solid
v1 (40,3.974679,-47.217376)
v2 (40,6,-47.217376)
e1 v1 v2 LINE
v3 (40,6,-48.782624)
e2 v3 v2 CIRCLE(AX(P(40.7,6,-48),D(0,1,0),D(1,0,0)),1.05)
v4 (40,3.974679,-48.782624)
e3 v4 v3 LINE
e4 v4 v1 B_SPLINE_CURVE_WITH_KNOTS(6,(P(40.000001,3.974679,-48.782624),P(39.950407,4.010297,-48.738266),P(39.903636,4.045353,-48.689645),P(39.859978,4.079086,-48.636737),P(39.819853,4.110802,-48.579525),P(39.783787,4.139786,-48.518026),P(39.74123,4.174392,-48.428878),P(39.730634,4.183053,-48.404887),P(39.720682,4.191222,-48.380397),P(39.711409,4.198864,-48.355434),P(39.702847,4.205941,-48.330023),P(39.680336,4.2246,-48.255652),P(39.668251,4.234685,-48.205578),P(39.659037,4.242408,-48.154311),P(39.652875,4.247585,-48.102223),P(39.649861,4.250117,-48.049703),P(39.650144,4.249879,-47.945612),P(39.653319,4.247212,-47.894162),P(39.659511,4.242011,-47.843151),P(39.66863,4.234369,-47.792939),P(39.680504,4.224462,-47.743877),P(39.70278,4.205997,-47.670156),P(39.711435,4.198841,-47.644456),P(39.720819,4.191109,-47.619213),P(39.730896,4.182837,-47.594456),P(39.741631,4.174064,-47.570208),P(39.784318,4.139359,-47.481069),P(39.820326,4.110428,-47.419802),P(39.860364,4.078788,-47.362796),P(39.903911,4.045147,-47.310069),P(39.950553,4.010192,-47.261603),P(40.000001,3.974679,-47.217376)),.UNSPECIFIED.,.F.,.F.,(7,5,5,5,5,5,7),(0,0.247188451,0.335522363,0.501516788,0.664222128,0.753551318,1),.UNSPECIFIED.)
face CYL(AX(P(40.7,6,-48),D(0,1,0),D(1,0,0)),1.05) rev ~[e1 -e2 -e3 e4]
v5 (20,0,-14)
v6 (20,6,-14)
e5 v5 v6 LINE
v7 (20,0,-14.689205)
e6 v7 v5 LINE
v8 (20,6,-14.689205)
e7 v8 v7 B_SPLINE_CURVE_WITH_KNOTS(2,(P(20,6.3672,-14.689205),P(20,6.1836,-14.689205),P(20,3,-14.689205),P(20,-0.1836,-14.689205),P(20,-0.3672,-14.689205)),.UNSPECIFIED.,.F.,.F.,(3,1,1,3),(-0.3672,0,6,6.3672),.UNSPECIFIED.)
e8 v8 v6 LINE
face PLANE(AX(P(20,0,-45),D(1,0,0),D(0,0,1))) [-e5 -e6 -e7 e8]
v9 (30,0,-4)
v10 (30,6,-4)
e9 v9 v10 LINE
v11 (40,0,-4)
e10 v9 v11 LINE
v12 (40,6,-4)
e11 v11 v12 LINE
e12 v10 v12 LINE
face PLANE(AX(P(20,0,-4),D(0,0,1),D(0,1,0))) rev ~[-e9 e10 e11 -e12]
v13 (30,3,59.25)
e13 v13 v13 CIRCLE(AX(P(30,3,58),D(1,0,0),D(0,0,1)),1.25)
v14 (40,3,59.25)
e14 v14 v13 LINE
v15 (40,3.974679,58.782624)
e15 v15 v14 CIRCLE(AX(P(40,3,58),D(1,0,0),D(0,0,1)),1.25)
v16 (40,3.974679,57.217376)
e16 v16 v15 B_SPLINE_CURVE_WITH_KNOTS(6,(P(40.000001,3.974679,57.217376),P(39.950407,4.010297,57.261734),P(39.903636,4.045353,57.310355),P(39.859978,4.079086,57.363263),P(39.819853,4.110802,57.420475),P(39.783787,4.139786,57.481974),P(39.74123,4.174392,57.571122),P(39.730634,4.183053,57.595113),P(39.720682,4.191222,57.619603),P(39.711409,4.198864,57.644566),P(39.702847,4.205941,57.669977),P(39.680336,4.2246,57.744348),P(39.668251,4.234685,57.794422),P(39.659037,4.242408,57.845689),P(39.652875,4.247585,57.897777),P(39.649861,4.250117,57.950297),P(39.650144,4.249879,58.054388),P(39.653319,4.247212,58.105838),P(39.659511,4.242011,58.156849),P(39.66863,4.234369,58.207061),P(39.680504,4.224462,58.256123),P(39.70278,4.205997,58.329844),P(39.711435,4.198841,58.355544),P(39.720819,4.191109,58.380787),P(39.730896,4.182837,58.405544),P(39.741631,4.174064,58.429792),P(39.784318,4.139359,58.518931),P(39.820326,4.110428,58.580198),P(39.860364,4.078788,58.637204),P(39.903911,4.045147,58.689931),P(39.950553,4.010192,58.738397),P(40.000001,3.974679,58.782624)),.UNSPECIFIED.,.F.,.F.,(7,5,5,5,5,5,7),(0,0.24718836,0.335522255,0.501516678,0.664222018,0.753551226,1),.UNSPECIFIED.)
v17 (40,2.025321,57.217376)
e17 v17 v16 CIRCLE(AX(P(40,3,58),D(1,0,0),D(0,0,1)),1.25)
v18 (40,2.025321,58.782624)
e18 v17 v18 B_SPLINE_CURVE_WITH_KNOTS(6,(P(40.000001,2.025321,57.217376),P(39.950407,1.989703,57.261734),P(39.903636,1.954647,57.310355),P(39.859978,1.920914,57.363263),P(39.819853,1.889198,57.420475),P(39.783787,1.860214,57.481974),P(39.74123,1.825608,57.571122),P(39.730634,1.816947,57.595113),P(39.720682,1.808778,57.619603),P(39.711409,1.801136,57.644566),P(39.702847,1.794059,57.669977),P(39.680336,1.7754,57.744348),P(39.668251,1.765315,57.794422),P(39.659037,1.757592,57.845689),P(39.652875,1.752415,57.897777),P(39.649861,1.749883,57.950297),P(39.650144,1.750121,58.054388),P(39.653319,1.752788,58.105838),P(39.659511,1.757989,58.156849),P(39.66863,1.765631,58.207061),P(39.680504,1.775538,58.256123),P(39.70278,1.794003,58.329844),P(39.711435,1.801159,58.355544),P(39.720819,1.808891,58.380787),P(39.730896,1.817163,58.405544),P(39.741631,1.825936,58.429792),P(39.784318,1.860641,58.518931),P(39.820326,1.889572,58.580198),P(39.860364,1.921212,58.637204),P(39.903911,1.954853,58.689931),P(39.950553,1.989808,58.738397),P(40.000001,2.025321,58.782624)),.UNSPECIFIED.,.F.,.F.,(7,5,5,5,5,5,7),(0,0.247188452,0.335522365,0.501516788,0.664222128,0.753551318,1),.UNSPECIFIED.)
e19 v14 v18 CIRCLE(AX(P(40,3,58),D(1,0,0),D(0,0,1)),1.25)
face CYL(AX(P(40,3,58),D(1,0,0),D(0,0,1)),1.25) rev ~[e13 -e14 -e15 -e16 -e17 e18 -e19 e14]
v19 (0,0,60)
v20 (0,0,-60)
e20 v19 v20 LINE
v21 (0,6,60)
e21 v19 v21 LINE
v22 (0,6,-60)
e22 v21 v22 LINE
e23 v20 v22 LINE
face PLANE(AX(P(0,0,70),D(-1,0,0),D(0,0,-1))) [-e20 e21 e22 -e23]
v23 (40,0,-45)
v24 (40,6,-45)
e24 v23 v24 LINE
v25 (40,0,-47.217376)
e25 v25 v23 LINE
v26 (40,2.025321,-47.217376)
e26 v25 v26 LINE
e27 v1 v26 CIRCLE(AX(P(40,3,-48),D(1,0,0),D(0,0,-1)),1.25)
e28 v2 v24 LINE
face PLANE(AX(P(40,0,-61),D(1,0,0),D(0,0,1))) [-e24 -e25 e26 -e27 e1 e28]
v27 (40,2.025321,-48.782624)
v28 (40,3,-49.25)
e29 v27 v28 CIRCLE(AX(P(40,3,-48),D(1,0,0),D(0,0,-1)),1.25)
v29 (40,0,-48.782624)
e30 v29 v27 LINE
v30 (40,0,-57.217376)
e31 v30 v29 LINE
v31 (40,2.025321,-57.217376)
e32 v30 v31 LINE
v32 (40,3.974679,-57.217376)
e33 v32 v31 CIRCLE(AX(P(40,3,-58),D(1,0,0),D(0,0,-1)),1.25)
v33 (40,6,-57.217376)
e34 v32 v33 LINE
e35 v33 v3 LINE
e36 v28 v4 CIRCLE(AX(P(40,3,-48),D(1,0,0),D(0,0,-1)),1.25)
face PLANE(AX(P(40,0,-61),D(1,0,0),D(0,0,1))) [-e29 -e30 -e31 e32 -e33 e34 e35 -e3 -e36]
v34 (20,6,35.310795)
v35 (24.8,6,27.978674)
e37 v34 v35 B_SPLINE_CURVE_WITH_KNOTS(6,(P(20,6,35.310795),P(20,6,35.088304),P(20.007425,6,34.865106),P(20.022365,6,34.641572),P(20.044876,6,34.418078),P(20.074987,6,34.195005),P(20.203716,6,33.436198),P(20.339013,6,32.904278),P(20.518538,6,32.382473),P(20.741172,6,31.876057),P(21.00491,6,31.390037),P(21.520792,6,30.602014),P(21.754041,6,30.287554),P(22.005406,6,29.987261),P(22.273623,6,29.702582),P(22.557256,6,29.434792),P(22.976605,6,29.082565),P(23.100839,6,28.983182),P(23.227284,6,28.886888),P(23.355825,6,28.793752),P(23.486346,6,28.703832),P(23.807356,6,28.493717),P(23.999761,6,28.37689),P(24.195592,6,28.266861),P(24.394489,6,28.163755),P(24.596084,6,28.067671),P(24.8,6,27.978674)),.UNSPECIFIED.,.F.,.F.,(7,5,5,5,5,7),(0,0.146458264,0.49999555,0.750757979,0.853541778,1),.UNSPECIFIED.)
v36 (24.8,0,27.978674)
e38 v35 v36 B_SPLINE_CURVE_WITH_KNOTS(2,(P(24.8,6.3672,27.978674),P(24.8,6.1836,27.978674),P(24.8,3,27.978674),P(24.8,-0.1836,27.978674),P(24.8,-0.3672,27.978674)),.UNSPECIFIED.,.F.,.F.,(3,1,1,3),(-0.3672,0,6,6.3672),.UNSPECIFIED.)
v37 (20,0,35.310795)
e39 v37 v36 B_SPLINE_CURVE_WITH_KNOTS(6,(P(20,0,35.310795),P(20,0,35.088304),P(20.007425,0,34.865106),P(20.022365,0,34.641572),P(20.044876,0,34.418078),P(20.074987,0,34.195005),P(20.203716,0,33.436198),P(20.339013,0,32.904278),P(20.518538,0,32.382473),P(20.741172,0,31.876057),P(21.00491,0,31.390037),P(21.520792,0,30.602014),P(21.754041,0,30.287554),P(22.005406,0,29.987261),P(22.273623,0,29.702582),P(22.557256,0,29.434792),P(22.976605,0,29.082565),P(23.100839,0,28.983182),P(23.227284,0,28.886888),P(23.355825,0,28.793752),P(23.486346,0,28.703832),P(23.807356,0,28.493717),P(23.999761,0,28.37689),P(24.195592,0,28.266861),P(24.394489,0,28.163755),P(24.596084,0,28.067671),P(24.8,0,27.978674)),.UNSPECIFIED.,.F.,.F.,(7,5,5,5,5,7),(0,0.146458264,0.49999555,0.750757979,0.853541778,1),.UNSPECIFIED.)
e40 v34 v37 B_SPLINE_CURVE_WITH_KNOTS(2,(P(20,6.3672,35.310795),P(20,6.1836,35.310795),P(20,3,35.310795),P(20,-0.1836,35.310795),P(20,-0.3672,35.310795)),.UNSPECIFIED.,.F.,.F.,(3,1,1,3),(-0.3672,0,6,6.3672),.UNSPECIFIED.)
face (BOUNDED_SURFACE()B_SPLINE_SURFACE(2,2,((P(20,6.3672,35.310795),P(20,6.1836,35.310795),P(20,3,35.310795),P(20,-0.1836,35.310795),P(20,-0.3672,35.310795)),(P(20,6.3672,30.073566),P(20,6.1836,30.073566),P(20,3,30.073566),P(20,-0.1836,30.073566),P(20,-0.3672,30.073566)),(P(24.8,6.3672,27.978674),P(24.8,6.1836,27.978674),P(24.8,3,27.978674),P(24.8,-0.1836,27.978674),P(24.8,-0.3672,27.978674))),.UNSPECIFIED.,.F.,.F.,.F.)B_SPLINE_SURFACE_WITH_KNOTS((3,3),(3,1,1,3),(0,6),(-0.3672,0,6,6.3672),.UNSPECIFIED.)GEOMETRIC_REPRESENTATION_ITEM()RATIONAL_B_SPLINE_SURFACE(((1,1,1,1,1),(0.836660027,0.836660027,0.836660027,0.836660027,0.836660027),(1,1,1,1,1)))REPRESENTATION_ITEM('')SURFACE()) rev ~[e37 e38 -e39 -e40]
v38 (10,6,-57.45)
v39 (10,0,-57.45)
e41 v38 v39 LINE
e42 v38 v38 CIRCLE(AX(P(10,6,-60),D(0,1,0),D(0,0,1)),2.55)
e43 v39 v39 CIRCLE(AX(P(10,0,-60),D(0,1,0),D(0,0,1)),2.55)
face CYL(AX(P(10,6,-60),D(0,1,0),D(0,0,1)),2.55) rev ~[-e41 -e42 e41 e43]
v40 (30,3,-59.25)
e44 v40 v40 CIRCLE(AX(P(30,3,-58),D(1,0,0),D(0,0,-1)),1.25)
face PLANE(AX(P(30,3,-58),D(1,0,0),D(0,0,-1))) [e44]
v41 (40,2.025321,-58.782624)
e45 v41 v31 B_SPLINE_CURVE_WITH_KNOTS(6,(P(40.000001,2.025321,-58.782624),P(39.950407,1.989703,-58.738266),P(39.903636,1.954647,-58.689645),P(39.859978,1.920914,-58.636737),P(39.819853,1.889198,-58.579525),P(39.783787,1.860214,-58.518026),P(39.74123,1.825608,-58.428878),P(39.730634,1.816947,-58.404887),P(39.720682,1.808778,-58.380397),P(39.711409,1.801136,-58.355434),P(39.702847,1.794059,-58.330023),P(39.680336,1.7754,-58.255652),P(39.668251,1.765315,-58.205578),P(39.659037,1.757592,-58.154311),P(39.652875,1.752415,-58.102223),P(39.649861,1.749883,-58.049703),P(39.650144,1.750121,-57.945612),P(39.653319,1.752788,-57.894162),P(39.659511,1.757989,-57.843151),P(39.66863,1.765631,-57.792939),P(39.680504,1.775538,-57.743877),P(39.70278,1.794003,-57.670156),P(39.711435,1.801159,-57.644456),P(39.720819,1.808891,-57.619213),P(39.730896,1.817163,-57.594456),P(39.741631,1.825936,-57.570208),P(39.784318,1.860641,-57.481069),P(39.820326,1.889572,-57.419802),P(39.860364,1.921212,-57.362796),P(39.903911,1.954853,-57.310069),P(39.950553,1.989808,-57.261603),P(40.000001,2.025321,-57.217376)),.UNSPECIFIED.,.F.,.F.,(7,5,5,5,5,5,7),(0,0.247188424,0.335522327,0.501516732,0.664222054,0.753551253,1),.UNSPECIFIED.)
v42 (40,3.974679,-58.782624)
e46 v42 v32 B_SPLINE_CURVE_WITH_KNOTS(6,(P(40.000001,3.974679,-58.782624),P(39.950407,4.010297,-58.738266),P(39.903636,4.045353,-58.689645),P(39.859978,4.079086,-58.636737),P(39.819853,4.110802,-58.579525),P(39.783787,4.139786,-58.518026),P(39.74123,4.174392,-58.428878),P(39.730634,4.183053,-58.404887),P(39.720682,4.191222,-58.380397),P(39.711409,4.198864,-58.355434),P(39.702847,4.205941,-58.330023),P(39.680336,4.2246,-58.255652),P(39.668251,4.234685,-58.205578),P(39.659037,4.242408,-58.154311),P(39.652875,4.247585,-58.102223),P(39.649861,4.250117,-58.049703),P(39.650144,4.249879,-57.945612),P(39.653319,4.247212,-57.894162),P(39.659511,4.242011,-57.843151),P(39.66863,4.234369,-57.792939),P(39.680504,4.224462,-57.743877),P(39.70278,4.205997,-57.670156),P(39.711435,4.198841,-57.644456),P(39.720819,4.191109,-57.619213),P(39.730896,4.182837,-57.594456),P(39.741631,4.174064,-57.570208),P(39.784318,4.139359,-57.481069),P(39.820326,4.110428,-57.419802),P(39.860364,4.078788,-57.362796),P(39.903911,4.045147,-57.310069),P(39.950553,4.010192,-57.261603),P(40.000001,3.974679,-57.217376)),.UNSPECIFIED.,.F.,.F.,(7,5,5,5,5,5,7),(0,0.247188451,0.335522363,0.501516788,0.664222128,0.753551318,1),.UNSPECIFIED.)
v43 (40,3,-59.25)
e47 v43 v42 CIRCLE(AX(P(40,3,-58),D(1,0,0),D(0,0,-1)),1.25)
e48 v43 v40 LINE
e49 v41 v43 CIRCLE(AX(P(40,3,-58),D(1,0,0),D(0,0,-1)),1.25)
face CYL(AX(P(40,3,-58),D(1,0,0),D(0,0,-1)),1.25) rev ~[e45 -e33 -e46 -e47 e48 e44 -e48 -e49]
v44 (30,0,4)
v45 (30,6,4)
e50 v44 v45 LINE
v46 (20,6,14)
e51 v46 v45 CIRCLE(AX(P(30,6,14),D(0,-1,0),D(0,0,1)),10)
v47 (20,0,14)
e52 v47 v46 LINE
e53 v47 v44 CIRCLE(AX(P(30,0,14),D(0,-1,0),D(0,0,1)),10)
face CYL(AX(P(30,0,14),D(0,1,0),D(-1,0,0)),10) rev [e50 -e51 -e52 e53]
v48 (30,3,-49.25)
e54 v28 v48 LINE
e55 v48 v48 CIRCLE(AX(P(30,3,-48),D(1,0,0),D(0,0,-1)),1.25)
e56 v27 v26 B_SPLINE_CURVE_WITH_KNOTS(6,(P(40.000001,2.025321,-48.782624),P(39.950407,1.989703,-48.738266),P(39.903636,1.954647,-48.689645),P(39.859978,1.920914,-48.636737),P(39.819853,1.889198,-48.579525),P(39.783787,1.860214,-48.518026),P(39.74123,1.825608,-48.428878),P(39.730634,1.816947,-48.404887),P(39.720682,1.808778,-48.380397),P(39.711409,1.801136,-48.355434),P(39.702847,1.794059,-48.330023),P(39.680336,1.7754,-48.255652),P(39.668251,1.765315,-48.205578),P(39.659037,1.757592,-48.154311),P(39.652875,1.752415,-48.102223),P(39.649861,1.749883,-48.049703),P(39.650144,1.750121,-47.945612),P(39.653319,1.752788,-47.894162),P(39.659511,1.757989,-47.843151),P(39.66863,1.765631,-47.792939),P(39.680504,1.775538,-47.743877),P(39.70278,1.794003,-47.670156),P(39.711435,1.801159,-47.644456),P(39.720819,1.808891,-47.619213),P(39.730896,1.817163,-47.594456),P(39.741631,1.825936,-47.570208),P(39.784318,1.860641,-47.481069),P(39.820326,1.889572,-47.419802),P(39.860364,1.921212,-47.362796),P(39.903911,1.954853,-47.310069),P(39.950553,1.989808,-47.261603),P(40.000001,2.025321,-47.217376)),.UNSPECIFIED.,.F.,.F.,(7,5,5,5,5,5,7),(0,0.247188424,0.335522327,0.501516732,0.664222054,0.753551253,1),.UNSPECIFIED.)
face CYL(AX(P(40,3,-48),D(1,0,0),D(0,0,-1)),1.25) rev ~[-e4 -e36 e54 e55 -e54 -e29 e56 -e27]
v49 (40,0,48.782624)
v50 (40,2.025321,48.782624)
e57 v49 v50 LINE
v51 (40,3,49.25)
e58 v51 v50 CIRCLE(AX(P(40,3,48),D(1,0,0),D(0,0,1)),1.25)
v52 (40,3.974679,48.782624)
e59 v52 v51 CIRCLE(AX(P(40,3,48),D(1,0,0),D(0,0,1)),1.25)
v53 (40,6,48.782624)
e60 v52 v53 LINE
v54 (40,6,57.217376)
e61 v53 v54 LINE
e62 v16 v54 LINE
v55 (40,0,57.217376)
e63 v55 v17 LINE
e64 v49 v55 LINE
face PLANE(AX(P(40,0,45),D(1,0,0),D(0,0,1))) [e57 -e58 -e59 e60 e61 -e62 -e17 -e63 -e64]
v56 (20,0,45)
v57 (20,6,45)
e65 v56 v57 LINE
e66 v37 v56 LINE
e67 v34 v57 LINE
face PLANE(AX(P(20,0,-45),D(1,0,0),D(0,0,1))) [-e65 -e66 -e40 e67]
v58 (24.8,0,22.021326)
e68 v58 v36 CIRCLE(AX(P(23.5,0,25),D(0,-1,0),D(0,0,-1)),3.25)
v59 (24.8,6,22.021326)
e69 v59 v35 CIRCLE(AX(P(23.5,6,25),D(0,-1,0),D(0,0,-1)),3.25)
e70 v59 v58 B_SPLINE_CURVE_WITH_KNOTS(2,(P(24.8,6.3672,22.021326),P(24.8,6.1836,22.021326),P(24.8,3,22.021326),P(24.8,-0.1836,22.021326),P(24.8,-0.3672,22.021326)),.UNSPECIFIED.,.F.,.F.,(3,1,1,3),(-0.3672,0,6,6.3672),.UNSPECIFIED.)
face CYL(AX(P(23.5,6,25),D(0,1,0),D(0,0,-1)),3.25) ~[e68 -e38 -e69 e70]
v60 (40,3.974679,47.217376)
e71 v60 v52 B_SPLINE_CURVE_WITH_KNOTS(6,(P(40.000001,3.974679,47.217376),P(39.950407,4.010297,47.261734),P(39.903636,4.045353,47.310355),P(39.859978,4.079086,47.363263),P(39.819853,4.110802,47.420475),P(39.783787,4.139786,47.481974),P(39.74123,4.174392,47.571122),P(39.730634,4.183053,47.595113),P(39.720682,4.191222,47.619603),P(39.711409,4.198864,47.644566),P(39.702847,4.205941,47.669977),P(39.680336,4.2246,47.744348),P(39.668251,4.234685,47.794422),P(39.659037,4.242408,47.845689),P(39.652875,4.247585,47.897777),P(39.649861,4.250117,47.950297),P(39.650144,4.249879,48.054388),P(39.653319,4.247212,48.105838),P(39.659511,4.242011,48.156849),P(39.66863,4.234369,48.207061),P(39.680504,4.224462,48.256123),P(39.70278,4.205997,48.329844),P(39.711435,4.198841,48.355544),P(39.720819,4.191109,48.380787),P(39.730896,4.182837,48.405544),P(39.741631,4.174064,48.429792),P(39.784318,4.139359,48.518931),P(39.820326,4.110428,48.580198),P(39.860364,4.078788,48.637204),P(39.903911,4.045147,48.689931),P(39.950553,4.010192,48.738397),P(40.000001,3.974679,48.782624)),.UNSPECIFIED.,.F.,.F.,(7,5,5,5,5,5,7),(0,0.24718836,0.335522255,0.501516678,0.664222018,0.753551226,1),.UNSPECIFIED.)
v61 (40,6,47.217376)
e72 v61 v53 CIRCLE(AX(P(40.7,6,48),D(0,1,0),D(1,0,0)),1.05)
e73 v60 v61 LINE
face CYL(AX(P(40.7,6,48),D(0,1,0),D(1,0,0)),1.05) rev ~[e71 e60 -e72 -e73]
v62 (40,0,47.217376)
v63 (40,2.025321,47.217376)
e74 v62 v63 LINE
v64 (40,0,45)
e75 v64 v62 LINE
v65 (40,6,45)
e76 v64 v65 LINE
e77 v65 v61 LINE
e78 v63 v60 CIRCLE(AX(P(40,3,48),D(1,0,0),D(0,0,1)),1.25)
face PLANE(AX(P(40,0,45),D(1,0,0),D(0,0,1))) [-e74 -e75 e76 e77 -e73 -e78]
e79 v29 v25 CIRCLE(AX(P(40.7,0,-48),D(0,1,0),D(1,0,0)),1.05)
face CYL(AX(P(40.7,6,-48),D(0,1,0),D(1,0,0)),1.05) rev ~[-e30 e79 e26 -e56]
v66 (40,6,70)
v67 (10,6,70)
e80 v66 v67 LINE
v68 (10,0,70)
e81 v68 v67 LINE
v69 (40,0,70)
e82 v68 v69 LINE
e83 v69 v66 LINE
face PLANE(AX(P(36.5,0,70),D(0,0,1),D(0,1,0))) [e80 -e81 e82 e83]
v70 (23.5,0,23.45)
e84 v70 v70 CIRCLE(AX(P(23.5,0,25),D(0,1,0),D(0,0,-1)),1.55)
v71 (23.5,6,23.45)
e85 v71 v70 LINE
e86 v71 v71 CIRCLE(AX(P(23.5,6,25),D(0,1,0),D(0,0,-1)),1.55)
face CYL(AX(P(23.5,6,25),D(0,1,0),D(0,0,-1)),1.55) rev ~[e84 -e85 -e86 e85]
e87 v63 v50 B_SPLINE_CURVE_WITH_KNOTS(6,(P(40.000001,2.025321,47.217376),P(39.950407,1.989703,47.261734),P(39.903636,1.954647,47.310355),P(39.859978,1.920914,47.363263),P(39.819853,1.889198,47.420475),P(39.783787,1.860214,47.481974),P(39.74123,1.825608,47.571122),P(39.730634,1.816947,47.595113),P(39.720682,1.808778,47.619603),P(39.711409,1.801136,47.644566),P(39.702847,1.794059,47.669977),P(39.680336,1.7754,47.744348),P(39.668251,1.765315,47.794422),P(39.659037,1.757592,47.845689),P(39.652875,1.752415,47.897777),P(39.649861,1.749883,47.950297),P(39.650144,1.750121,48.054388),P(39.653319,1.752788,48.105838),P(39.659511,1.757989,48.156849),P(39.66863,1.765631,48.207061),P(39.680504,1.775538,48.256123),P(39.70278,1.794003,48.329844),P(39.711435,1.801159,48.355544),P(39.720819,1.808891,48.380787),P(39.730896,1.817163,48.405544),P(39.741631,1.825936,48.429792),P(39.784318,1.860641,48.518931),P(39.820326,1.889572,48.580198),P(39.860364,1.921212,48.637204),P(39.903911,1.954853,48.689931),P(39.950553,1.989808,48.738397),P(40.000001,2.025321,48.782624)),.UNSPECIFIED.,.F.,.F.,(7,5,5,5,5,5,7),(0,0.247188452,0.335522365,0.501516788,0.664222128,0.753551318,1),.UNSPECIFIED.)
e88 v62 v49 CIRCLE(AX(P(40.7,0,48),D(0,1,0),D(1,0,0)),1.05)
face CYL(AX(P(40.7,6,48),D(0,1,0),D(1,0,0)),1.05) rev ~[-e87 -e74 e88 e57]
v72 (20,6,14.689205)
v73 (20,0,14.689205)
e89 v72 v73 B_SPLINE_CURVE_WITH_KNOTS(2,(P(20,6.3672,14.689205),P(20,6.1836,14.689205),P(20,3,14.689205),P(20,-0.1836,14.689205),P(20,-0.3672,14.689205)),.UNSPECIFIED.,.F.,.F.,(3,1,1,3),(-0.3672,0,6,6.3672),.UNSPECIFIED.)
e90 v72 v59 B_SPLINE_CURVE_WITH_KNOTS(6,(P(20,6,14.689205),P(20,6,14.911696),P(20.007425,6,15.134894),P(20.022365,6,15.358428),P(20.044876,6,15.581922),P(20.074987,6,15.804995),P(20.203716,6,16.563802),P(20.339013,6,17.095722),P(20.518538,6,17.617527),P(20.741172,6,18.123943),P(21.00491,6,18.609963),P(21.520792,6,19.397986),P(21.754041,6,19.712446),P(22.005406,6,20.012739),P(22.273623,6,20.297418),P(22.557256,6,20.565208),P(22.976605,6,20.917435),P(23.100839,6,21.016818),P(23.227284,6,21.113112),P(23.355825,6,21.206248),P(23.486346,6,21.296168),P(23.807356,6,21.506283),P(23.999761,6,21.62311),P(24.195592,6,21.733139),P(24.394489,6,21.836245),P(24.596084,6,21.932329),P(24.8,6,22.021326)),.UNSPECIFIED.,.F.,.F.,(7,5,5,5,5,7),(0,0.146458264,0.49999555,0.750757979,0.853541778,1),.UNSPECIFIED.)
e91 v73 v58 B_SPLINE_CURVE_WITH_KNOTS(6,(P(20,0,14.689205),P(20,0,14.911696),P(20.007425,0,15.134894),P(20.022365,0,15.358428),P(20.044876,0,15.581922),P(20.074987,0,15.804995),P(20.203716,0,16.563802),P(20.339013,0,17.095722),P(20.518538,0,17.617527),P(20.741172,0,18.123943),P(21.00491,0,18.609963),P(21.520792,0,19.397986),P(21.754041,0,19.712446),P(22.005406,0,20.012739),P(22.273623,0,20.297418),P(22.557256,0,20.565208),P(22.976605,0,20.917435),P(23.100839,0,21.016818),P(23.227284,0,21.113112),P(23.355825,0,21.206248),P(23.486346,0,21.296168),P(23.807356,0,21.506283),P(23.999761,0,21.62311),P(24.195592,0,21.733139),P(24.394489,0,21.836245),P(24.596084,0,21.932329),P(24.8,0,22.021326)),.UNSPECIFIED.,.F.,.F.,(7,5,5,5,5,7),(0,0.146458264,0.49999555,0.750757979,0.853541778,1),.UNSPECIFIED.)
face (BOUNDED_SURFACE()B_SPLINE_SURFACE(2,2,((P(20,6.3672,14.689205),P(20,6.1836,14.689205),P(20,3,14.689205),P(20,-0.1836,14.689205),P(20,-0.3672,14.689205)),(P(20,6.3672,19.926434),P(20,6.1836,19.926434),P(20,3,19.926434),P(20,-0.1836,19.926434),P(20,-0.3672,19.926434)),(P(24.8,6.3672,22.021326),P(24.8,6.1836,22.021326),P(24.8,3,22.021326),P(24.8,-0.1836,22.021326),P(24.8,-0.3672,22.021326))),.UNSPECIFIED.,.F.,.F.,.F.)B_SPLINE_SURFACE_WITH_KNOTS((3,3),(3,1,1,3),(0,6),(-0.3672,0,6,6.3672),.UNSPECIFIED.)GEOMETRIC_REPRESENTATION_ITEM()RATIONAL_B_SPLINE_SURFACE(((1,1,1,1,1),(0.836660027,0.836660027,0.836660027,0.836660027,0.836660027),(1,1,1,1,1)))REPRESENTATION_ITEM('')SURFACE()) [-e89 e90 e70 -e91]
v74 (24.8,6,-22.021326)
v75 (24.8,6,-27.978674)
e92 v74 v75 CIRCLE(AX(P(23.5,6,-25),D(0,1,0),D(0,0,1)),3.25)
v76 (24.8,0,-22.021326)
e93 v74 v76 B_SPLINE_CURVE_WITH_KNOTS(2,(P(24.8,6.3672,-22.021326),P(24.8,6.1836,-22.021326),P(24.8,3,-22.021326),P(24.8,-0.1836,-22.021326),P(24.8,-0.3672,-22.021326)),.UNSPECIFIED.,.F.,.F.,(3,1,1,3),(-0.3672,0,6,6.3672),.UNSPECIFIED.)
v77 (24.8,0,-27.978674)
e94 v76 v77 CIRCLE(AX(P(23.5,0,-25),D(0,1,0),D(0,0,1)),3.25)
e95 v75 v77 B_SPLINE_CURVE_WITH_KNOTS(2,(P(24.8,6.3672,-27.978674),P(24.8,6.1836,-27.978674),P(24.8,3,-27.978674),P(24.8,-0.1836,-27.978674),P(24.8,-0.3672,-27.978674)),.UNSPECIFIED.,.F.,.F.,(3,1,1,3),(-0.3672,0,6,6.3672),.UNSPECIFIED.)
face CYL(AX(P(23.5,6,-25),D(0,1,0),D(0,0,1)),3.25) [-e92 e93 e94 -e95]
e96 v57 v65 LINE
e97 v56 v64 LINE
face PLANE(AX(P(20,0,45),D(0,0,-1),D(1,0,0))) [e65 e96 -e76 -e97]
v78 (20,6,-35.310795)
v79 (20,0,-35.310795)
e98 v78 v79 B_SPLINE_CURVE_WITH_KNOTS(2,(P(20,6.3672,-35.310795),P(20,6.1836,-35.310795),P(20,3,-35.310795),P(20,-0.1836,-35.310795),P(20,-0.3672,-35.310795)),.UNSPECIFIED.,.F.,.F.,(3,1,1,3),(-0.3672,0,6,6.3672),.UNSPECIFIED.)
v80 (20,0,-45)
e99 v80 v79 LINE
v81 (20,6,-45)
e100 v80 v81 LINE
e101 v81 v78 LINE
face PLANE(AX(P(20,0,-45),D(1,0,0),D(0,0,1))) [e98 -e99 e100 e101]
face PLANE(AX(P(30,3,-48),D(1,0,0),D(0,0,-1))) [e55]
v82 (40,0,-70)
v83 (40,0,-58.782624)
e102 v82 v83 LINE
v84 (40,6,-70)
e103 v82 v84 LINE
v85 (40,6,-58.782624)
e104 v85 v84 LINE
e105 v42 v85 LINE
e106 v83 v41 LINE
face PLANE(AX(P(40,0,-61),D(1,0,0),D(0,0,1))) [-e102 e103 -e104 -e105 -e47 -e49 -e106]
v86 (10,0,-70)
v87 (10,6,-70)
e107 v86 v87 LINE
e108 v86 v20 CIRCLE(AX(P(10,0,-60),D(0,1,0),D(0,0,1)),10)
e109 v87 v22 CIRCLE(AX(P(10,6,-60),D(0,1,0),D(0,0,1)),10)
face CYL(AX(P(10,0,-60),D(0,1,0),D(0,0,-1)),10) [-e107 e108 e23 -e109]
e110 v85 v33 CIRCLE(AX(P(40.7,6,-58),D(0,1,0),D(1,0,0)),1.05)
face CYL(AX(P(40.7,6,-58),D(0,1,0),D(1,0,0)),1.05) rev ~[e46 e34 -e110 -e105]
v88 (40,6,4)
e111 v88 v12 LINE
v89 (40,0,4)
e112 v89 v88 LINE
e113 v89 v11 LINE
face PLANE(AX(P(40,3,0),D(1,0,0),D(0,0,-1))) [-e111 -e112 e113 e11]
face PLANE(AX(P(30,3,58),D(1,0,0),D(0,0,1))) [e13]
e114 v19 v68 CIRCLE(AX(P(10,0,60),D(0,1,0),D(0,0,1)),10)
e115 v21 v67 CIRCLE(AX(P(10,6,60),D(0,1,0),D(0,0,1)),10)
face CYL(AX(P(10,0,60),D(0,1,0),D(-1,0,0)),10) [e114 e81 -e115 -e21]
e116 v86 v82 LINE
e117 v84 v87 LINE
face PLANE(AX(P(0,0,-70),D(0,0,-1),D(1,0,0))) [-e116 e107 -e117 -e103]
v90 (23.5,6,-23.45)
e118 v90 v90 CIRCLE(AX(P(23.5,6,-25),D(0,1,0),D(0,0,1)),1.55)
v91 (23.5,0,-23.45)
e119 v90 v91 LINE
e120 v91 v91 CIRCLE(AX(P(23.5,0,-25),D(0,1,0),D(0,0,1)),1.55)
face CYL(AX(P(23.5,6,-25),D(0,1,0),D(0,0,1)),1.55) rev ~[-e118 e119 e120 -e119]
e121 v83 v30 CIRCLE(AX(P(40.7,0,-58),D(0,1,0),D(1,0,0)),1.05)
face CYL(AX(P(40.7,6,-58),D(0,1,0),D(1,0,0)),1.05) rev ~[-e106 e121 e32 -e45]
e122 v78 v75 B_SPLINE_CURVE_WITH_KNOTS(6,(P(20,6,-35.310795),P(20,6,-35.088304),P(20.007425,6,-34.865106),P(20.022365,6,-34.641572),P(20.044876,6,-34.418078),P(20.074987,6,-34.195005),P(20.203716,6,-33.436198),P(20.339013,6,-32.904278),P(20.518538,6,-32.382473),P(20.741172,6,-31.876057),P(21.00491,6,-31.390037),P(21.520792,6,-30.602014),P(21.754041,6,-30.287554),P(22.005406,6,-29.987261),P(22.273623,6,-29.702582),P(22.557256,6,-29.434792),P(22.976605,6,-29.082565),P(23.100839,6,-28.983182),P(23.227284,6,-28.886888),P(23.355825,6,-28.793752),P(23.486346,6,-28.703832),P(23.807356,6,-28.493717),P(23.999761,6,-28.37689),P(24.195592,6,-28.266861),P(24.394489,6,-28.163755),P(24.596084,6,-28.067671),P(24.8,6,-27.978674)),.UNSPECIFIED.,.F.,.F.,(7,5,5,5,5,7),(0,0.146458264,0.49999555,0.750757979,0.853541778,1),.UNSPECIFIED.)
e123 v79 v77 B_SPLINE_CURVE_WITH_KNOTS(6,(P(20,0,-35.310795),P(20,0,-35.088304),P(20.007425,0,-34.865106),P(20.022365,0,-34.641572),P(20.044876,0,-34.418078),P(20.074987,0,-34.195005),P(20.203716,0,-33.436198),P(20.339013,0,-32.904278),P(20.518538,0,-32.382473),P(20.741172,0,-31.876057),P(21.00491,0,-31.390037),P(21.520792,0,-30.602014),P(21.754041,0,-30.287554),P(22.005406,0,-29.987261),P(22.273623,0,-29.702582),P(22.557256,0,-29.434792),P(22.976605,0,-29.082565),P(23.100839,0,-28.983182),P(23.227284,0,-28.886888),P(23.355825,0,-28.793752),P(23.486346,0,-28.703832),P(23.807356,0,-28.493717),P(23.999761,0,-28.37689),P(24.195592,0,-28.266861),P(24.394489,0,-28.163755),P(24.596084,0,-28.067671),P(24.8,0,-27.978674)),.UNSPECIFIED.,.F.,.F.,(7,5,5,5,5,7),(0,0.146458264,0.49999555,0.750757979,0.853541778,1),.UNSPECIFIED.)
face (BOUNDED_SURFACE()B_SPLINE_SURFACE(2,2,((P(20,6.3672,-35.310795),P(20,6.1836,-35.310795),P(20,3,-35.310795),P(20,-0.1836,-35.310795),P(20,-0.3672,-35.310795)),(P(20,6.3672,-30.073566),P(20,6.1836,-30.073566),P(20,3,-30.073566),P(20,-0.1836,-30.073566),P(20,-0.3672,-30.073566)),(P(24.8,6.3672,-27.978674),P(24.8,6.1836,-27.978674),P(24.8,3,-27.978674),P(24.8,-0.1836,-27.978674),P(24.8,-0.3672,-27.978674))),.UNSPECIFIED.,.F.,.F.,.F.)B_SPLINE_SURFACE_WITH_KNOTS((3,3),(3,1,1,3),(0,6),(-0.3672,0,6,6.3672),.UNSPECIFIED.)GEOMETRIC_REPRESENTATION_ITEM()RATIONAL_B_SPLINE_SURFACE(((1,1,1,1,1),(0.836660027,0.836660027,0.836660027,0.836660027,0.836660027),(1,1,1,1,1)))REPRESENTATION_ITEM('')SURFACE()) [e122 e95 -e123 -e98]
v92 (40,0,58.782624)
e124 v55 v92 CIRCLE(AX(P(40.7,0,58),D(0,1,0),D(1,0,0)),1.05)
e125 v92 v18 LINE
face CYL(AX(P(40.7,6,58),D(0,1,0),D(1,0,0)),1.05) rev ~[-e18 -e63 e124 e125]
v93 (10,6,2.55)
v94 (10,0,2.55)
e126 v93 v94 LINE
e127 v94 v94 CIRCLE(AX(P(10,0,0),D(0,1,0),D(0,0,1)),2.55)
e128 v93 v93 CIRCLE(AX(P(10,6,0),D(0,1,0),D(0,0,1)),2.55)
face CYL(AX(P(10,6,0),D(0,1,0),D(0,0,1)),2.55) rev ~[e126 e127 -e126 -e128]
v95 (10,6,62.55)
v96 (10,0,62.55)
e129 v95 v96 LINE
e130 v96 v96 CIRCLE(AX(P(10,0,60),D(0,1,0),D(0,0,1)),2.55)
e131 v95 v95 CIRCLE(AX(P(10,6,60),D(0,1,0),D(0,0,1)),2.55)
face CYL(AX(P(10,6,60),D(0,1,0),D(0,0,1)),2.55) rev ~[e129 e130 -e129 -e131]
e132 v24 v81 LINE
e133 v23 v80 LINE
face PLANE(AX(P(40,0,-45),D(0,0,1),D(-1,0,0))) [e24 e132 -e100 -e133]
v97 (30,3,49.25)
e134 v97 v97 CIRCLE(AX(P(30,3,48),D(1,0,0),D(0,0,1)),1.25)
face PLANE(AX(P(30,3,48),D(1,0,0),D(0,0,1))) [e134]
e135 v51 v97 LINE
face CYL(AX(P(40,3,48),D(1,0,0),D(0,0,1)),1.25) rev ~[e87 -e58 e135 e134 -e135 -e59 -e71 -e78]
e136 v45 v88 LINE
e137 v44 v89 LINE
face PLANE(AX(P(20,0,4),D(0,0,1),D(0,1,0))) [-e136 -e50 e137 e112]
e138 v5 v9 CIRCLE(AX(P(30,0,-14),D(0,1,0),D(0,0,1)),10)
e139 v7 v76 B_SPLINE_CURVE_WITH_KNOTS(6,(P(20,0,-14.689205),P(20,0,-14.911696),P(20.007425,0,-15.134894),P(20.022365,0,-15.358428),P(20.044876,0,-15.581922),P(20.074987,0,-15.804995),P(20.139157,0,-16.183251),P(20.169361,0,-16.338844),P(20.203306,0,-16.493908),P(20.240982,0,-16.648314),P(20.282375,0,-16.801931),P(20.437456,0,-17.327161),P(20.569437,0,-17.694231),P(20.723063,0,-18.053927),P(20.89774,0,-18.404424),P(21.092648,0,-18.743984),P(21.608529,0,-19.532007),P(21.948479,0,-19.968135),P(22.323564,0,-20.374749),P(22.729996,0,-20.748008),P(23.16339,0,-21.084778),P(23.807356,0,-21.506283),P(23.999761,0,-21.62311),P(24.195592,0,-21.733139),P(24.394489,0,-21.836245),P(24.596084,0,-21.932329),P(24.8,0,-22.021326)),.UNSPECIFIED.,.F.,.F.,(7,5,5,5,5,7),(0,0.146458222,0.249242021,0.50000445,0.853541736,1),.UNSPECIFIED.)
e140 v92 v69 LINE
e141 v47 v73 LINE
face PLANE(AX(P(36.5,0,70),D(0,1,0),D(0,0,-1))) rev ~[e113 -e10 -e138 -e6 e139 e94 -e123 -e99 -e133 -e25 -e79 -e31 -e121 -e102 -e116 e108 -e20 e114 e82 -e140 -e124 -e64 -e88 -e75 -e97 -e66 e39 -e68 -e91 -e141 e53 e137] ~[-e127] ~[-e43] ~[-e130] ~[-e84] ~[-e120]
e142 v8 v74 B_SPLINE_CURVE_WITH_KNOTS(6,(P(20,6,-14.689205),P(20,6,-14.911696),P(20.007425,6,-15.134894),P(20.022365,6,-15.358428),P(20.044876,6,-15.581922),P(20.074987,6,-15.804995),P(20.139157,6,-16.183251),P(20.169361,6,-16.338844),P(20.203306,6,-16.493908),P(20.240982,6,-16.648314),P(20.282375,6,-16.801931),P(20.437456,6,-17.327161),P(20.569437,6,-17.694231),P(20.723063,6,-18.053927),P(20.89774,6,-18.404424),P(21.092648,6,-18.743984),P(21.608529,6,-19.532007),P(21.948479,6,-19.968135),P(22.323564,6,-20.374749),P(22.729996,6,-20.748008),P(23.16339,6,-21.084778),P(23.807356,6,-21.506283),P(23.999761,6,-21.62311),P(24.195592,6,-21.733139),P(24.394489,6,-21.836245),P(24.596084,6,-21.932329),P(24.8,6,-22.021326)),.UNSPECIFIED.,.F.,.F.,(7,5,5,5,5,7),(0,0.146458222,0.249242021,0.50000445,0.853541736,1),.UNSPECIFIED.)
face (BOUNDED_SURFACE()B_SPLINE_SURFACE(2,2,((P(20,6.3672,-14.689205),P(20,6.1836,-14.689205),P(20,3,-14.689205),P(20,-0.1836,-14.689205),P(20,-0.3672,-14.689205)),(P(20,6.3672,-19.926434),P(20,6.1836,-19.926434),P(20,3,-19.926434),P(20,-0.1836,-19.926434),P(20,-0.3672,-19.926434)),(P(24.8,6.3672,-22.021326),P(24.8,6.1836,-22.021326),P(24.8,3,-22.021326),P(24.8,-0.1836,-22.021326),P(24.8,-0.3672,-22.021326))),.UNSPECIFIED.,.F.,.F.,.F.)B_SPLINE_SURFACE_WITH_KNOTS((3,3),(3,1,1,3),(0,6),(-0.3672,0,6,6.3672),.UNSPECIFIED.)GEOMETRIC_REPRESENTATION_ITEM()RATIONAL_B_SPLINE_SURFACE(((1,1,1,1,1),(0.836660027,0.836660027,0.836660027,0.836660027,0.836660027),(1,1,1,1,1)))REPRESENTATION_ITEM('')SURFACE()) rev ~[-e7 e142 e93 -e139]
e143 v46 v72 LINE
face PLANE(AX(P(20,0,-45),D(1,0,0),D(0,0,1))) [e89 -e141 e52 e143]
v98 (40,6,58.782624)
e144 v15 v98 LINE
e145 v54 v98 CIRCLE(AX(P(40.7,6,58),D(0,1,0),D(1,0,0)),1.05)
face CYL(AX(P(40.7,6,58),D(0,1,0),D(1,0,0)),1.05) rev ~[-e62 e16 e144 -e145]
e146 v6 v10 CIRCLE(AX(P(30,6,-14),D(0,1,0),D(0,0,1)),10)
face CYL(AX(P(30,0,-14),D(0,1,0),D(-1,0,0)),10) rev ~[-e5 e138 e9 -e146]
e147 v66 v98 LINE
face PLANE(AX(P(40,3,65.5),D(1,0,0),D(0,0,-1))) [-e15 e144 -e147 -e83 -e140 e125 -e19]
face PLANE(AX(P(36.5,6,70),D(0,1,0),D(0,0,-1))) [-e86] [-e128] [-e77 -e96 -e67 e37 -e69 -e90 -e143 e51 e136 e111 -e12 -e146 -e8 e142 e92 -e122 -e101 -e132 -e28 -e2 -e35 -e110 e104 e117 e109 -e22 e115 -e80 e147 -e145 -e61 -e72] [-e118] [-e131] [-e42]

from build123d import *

# Parameters (mm, degrees)
EXTRUDE_1_DEPTH     = 6
SKETCH_2_R          = 1.25
CUT_EXTRUDE_1_DEPTH = 10
SKETCH_3_R          = 1.05
CUT_EXTRUDE_2_DEPTH = 81.845531726
SKETCH_4_R          = 2.55
CUT_EXTRUDE_3_DEPTH = 81.845531783
SKETCH_5_W          = 8
SKETCH_5_H          = 6
EXTRUDE_2_DEPTH     = 20
FILLET_2_R          = 10
FILLET_3_R          = 10
SKETCH_7_R          = 1.55
EXTRUDE_3_DEPTH     = 6
FILLET_4_R          = 8
SKETCH_9_W          = 9
SKETCH_9_H          = 6
EXTRUDE_4_DEPTH     = 3.5


with BuildPart() as part:
    # ｽｹｯﾁ1 → ﾎﾞｽ - 押し出し1 (new body)
    with BuildSketch(Plane(origin=(0, 0, 0), x_dir=(1, 0, 0), z_dir=(0, 1, 0))):
        Polygon((0, -70), (0, 70), (36.5, 70), (36.5, 61), (40, 61), (40, 45), (20, 45), (20, -45), (40, -45), (40, -61), (36.5, -61), (36.5, -70), align=None)
    extrude(amount=EXTRUDE_1_DEPTH)

    # ｽｹｯﾁ2 → ｶｯﾄ - 押し出し1 (cut)
    with BuildSketch(Plane(origin=(40, 0, 0), x_dir=(0, 0, -1), z_dir=(1, 0, 0))):
        with Locations((48, 3)):
            Circle(SKETCH_2_R)
        with Locations((58, 3)):
            Circle(SKETCH_2_R)
        with Locations(Location((-48, 3, 0), (0, 0, 180))):
            Circle(SKETCH_2_R)
        with Locations(Location((-58, 3, 0), (0, 0, 180))):
            Circle(SKETCH_2_R)
    extrude(amount=-CUT_EXTRUDE_1_DEPTH, mode=Mode.SUBTRACT)

    # ｽｹｯﾁ3 → ｶｯﾄ - 押し出し2 (cut, through all)
    with BuildSketch(Plane(origin=(0, 6, 0), x_dir=(1, 0, 0), z_dir=(0, 1, 0))):
        with Locations((40.7, 58)):
            Circle(SKETCH_3_R)
        with Locations((40.7, 48)):
            Circle(SKETCH_3_R)
        with Locations((40.7, -48)):
            Circle(SKETCH_3_R)
        with Locations((40.7, -58)):
            Circle(SKETCH_3_R)
    extrude(amount=-CUT_EXTRUDE_2_DEPTH, mode=Mode.SUBTRACT)

    # ｽｹｯﾁ4 → ｶｯﾄ - 押し出し3 (cut, through all)
    with BuildSketch(Plane(origin=(0, 6, 0), x_dir=(1, 0, 0), z_dir=(0, 1, 0))):
        with Locations(Location((10, 0, 0), (0, 0, 270))):
            Circle(SKETCH_4_R)
        with Locations(Location((10, 60, 0), (0, 0, 270))):
            Circle(SKETCH_4_R)
        with Locations(Location((10, -60, 0), (0, 0, 270))):
            Circle(SKETCH_4_R)
    extrude(amount=-CUT_EXTRUDE_3_DEPTH, mode=Mode.SUBTRACT)

    # ｽｹｯﾁ5 → ﾎﾞｽ - 押し出し2 (add)
    with BuildSketch(Plane(origin=(20, 0, 0), x_dir=(0, 0, -1), z_dir=(1, 0, 0))):
        with Locations((0, 3)):
            Rectangle(SKETCH_5_W, SKETCH_5_H)
    extrude(amount=EXTRUDE_2_DEPTH)

    # ﾌｨﾚｯﾄ2
    fillet_2_edges = [part.edges().sort_by_distance(p)[0] for p in [
        (20, 3, 4),
        (20, 3, -4),
    ]]
    fillet(fillet_2_edges, radius=FILLET_2_R)

    # ﾌｨﾚｯﾄ3
    fillet_3_edges = [part.edges().sort_by_distance(p)[0] for p in [
        (0, 3, 70),
        (0, 3, -70),
    ]]
    fillet(fillet_3_edges, radius=FILLET_3_R)

    # ｽｹｯﾁ7 → ﾎﾞｽ - 押し出し3 (add, through all)
    # profile 1 of 2: a face of its own
    with BuildSketch(Plane(origin=(0, 6, 0), x_dir=(1, 0, 0), z_dir=(0, 1, 0))):
        with BuildLine():
            Line((23.5, 28.25), (20, 28.25))
            Line((20, 28.25), (20, 21.75))
            Line((20, 21.75), (23.5, 21.75))
            ThreePointArc((23.5, 21.75), (26.75, 25), (23.5, 28.25))
        make_face()
        with Locations(Location((23.5, 25, 0), (0, 0, 270))):
            Circle(SKETCH_7_R, mode=Mode.SUBTRACT)
    # profile 2 of 2: a face of its own
    with BuildSketch(Plane(origin=(0, 6, 0), x_dir=(1, 0, 0), z_dir=(0, 1, 0))):
        with BuildLine():
            Line((20, -21.75), (23.5, -21.75))
            ThreePointArc((23.5, -21.75), (26.75, -25), (23.5, -28.25))
            Line((23.5, -28.25), (20, -28.25))
            Line((20, -28.25), (20, -21.75))
        make_face()
        with Locations(Location((23.5, -25, 0), (0, 0, 90))):
            Circle(SKETCH_7_R, mode=Mode.SUBTRACT)
    extrude(amount=-EXTRUDE_3_DEPTH)

    # ﾌｨﾚｯﾄ4
    fillet_4_edges = [part.edges().sort_by_distance(p)[0] for p in [
        (20, 3, 28.25),
        (20, 3, 21.75),
        (20, 3, -28.25),
        (20, 3, -21.75),
    ]]
    fillet(fillet_4_edges, radius=FILLET_4_R)

    # ｽｹｯﾁ9 → ﾎﾞｽ - 押し出し4 (add)
    with BuildSketch(Plane(origin=(36.5, 0, 0), x_dir=(0, 0, -1), z_dir=(1, 0, 0))):
        with Locations((-65.5, 3)):
            Rectangle(SKETCH_9_W, SKETCH_9_H)
        with Locations((65.5, 3)):
            Rectangle(SKETCH_9_W, SKETCH_9_H)
    extrude(amount=EXTRUDE_4_DEPTH)


solid = part.part
